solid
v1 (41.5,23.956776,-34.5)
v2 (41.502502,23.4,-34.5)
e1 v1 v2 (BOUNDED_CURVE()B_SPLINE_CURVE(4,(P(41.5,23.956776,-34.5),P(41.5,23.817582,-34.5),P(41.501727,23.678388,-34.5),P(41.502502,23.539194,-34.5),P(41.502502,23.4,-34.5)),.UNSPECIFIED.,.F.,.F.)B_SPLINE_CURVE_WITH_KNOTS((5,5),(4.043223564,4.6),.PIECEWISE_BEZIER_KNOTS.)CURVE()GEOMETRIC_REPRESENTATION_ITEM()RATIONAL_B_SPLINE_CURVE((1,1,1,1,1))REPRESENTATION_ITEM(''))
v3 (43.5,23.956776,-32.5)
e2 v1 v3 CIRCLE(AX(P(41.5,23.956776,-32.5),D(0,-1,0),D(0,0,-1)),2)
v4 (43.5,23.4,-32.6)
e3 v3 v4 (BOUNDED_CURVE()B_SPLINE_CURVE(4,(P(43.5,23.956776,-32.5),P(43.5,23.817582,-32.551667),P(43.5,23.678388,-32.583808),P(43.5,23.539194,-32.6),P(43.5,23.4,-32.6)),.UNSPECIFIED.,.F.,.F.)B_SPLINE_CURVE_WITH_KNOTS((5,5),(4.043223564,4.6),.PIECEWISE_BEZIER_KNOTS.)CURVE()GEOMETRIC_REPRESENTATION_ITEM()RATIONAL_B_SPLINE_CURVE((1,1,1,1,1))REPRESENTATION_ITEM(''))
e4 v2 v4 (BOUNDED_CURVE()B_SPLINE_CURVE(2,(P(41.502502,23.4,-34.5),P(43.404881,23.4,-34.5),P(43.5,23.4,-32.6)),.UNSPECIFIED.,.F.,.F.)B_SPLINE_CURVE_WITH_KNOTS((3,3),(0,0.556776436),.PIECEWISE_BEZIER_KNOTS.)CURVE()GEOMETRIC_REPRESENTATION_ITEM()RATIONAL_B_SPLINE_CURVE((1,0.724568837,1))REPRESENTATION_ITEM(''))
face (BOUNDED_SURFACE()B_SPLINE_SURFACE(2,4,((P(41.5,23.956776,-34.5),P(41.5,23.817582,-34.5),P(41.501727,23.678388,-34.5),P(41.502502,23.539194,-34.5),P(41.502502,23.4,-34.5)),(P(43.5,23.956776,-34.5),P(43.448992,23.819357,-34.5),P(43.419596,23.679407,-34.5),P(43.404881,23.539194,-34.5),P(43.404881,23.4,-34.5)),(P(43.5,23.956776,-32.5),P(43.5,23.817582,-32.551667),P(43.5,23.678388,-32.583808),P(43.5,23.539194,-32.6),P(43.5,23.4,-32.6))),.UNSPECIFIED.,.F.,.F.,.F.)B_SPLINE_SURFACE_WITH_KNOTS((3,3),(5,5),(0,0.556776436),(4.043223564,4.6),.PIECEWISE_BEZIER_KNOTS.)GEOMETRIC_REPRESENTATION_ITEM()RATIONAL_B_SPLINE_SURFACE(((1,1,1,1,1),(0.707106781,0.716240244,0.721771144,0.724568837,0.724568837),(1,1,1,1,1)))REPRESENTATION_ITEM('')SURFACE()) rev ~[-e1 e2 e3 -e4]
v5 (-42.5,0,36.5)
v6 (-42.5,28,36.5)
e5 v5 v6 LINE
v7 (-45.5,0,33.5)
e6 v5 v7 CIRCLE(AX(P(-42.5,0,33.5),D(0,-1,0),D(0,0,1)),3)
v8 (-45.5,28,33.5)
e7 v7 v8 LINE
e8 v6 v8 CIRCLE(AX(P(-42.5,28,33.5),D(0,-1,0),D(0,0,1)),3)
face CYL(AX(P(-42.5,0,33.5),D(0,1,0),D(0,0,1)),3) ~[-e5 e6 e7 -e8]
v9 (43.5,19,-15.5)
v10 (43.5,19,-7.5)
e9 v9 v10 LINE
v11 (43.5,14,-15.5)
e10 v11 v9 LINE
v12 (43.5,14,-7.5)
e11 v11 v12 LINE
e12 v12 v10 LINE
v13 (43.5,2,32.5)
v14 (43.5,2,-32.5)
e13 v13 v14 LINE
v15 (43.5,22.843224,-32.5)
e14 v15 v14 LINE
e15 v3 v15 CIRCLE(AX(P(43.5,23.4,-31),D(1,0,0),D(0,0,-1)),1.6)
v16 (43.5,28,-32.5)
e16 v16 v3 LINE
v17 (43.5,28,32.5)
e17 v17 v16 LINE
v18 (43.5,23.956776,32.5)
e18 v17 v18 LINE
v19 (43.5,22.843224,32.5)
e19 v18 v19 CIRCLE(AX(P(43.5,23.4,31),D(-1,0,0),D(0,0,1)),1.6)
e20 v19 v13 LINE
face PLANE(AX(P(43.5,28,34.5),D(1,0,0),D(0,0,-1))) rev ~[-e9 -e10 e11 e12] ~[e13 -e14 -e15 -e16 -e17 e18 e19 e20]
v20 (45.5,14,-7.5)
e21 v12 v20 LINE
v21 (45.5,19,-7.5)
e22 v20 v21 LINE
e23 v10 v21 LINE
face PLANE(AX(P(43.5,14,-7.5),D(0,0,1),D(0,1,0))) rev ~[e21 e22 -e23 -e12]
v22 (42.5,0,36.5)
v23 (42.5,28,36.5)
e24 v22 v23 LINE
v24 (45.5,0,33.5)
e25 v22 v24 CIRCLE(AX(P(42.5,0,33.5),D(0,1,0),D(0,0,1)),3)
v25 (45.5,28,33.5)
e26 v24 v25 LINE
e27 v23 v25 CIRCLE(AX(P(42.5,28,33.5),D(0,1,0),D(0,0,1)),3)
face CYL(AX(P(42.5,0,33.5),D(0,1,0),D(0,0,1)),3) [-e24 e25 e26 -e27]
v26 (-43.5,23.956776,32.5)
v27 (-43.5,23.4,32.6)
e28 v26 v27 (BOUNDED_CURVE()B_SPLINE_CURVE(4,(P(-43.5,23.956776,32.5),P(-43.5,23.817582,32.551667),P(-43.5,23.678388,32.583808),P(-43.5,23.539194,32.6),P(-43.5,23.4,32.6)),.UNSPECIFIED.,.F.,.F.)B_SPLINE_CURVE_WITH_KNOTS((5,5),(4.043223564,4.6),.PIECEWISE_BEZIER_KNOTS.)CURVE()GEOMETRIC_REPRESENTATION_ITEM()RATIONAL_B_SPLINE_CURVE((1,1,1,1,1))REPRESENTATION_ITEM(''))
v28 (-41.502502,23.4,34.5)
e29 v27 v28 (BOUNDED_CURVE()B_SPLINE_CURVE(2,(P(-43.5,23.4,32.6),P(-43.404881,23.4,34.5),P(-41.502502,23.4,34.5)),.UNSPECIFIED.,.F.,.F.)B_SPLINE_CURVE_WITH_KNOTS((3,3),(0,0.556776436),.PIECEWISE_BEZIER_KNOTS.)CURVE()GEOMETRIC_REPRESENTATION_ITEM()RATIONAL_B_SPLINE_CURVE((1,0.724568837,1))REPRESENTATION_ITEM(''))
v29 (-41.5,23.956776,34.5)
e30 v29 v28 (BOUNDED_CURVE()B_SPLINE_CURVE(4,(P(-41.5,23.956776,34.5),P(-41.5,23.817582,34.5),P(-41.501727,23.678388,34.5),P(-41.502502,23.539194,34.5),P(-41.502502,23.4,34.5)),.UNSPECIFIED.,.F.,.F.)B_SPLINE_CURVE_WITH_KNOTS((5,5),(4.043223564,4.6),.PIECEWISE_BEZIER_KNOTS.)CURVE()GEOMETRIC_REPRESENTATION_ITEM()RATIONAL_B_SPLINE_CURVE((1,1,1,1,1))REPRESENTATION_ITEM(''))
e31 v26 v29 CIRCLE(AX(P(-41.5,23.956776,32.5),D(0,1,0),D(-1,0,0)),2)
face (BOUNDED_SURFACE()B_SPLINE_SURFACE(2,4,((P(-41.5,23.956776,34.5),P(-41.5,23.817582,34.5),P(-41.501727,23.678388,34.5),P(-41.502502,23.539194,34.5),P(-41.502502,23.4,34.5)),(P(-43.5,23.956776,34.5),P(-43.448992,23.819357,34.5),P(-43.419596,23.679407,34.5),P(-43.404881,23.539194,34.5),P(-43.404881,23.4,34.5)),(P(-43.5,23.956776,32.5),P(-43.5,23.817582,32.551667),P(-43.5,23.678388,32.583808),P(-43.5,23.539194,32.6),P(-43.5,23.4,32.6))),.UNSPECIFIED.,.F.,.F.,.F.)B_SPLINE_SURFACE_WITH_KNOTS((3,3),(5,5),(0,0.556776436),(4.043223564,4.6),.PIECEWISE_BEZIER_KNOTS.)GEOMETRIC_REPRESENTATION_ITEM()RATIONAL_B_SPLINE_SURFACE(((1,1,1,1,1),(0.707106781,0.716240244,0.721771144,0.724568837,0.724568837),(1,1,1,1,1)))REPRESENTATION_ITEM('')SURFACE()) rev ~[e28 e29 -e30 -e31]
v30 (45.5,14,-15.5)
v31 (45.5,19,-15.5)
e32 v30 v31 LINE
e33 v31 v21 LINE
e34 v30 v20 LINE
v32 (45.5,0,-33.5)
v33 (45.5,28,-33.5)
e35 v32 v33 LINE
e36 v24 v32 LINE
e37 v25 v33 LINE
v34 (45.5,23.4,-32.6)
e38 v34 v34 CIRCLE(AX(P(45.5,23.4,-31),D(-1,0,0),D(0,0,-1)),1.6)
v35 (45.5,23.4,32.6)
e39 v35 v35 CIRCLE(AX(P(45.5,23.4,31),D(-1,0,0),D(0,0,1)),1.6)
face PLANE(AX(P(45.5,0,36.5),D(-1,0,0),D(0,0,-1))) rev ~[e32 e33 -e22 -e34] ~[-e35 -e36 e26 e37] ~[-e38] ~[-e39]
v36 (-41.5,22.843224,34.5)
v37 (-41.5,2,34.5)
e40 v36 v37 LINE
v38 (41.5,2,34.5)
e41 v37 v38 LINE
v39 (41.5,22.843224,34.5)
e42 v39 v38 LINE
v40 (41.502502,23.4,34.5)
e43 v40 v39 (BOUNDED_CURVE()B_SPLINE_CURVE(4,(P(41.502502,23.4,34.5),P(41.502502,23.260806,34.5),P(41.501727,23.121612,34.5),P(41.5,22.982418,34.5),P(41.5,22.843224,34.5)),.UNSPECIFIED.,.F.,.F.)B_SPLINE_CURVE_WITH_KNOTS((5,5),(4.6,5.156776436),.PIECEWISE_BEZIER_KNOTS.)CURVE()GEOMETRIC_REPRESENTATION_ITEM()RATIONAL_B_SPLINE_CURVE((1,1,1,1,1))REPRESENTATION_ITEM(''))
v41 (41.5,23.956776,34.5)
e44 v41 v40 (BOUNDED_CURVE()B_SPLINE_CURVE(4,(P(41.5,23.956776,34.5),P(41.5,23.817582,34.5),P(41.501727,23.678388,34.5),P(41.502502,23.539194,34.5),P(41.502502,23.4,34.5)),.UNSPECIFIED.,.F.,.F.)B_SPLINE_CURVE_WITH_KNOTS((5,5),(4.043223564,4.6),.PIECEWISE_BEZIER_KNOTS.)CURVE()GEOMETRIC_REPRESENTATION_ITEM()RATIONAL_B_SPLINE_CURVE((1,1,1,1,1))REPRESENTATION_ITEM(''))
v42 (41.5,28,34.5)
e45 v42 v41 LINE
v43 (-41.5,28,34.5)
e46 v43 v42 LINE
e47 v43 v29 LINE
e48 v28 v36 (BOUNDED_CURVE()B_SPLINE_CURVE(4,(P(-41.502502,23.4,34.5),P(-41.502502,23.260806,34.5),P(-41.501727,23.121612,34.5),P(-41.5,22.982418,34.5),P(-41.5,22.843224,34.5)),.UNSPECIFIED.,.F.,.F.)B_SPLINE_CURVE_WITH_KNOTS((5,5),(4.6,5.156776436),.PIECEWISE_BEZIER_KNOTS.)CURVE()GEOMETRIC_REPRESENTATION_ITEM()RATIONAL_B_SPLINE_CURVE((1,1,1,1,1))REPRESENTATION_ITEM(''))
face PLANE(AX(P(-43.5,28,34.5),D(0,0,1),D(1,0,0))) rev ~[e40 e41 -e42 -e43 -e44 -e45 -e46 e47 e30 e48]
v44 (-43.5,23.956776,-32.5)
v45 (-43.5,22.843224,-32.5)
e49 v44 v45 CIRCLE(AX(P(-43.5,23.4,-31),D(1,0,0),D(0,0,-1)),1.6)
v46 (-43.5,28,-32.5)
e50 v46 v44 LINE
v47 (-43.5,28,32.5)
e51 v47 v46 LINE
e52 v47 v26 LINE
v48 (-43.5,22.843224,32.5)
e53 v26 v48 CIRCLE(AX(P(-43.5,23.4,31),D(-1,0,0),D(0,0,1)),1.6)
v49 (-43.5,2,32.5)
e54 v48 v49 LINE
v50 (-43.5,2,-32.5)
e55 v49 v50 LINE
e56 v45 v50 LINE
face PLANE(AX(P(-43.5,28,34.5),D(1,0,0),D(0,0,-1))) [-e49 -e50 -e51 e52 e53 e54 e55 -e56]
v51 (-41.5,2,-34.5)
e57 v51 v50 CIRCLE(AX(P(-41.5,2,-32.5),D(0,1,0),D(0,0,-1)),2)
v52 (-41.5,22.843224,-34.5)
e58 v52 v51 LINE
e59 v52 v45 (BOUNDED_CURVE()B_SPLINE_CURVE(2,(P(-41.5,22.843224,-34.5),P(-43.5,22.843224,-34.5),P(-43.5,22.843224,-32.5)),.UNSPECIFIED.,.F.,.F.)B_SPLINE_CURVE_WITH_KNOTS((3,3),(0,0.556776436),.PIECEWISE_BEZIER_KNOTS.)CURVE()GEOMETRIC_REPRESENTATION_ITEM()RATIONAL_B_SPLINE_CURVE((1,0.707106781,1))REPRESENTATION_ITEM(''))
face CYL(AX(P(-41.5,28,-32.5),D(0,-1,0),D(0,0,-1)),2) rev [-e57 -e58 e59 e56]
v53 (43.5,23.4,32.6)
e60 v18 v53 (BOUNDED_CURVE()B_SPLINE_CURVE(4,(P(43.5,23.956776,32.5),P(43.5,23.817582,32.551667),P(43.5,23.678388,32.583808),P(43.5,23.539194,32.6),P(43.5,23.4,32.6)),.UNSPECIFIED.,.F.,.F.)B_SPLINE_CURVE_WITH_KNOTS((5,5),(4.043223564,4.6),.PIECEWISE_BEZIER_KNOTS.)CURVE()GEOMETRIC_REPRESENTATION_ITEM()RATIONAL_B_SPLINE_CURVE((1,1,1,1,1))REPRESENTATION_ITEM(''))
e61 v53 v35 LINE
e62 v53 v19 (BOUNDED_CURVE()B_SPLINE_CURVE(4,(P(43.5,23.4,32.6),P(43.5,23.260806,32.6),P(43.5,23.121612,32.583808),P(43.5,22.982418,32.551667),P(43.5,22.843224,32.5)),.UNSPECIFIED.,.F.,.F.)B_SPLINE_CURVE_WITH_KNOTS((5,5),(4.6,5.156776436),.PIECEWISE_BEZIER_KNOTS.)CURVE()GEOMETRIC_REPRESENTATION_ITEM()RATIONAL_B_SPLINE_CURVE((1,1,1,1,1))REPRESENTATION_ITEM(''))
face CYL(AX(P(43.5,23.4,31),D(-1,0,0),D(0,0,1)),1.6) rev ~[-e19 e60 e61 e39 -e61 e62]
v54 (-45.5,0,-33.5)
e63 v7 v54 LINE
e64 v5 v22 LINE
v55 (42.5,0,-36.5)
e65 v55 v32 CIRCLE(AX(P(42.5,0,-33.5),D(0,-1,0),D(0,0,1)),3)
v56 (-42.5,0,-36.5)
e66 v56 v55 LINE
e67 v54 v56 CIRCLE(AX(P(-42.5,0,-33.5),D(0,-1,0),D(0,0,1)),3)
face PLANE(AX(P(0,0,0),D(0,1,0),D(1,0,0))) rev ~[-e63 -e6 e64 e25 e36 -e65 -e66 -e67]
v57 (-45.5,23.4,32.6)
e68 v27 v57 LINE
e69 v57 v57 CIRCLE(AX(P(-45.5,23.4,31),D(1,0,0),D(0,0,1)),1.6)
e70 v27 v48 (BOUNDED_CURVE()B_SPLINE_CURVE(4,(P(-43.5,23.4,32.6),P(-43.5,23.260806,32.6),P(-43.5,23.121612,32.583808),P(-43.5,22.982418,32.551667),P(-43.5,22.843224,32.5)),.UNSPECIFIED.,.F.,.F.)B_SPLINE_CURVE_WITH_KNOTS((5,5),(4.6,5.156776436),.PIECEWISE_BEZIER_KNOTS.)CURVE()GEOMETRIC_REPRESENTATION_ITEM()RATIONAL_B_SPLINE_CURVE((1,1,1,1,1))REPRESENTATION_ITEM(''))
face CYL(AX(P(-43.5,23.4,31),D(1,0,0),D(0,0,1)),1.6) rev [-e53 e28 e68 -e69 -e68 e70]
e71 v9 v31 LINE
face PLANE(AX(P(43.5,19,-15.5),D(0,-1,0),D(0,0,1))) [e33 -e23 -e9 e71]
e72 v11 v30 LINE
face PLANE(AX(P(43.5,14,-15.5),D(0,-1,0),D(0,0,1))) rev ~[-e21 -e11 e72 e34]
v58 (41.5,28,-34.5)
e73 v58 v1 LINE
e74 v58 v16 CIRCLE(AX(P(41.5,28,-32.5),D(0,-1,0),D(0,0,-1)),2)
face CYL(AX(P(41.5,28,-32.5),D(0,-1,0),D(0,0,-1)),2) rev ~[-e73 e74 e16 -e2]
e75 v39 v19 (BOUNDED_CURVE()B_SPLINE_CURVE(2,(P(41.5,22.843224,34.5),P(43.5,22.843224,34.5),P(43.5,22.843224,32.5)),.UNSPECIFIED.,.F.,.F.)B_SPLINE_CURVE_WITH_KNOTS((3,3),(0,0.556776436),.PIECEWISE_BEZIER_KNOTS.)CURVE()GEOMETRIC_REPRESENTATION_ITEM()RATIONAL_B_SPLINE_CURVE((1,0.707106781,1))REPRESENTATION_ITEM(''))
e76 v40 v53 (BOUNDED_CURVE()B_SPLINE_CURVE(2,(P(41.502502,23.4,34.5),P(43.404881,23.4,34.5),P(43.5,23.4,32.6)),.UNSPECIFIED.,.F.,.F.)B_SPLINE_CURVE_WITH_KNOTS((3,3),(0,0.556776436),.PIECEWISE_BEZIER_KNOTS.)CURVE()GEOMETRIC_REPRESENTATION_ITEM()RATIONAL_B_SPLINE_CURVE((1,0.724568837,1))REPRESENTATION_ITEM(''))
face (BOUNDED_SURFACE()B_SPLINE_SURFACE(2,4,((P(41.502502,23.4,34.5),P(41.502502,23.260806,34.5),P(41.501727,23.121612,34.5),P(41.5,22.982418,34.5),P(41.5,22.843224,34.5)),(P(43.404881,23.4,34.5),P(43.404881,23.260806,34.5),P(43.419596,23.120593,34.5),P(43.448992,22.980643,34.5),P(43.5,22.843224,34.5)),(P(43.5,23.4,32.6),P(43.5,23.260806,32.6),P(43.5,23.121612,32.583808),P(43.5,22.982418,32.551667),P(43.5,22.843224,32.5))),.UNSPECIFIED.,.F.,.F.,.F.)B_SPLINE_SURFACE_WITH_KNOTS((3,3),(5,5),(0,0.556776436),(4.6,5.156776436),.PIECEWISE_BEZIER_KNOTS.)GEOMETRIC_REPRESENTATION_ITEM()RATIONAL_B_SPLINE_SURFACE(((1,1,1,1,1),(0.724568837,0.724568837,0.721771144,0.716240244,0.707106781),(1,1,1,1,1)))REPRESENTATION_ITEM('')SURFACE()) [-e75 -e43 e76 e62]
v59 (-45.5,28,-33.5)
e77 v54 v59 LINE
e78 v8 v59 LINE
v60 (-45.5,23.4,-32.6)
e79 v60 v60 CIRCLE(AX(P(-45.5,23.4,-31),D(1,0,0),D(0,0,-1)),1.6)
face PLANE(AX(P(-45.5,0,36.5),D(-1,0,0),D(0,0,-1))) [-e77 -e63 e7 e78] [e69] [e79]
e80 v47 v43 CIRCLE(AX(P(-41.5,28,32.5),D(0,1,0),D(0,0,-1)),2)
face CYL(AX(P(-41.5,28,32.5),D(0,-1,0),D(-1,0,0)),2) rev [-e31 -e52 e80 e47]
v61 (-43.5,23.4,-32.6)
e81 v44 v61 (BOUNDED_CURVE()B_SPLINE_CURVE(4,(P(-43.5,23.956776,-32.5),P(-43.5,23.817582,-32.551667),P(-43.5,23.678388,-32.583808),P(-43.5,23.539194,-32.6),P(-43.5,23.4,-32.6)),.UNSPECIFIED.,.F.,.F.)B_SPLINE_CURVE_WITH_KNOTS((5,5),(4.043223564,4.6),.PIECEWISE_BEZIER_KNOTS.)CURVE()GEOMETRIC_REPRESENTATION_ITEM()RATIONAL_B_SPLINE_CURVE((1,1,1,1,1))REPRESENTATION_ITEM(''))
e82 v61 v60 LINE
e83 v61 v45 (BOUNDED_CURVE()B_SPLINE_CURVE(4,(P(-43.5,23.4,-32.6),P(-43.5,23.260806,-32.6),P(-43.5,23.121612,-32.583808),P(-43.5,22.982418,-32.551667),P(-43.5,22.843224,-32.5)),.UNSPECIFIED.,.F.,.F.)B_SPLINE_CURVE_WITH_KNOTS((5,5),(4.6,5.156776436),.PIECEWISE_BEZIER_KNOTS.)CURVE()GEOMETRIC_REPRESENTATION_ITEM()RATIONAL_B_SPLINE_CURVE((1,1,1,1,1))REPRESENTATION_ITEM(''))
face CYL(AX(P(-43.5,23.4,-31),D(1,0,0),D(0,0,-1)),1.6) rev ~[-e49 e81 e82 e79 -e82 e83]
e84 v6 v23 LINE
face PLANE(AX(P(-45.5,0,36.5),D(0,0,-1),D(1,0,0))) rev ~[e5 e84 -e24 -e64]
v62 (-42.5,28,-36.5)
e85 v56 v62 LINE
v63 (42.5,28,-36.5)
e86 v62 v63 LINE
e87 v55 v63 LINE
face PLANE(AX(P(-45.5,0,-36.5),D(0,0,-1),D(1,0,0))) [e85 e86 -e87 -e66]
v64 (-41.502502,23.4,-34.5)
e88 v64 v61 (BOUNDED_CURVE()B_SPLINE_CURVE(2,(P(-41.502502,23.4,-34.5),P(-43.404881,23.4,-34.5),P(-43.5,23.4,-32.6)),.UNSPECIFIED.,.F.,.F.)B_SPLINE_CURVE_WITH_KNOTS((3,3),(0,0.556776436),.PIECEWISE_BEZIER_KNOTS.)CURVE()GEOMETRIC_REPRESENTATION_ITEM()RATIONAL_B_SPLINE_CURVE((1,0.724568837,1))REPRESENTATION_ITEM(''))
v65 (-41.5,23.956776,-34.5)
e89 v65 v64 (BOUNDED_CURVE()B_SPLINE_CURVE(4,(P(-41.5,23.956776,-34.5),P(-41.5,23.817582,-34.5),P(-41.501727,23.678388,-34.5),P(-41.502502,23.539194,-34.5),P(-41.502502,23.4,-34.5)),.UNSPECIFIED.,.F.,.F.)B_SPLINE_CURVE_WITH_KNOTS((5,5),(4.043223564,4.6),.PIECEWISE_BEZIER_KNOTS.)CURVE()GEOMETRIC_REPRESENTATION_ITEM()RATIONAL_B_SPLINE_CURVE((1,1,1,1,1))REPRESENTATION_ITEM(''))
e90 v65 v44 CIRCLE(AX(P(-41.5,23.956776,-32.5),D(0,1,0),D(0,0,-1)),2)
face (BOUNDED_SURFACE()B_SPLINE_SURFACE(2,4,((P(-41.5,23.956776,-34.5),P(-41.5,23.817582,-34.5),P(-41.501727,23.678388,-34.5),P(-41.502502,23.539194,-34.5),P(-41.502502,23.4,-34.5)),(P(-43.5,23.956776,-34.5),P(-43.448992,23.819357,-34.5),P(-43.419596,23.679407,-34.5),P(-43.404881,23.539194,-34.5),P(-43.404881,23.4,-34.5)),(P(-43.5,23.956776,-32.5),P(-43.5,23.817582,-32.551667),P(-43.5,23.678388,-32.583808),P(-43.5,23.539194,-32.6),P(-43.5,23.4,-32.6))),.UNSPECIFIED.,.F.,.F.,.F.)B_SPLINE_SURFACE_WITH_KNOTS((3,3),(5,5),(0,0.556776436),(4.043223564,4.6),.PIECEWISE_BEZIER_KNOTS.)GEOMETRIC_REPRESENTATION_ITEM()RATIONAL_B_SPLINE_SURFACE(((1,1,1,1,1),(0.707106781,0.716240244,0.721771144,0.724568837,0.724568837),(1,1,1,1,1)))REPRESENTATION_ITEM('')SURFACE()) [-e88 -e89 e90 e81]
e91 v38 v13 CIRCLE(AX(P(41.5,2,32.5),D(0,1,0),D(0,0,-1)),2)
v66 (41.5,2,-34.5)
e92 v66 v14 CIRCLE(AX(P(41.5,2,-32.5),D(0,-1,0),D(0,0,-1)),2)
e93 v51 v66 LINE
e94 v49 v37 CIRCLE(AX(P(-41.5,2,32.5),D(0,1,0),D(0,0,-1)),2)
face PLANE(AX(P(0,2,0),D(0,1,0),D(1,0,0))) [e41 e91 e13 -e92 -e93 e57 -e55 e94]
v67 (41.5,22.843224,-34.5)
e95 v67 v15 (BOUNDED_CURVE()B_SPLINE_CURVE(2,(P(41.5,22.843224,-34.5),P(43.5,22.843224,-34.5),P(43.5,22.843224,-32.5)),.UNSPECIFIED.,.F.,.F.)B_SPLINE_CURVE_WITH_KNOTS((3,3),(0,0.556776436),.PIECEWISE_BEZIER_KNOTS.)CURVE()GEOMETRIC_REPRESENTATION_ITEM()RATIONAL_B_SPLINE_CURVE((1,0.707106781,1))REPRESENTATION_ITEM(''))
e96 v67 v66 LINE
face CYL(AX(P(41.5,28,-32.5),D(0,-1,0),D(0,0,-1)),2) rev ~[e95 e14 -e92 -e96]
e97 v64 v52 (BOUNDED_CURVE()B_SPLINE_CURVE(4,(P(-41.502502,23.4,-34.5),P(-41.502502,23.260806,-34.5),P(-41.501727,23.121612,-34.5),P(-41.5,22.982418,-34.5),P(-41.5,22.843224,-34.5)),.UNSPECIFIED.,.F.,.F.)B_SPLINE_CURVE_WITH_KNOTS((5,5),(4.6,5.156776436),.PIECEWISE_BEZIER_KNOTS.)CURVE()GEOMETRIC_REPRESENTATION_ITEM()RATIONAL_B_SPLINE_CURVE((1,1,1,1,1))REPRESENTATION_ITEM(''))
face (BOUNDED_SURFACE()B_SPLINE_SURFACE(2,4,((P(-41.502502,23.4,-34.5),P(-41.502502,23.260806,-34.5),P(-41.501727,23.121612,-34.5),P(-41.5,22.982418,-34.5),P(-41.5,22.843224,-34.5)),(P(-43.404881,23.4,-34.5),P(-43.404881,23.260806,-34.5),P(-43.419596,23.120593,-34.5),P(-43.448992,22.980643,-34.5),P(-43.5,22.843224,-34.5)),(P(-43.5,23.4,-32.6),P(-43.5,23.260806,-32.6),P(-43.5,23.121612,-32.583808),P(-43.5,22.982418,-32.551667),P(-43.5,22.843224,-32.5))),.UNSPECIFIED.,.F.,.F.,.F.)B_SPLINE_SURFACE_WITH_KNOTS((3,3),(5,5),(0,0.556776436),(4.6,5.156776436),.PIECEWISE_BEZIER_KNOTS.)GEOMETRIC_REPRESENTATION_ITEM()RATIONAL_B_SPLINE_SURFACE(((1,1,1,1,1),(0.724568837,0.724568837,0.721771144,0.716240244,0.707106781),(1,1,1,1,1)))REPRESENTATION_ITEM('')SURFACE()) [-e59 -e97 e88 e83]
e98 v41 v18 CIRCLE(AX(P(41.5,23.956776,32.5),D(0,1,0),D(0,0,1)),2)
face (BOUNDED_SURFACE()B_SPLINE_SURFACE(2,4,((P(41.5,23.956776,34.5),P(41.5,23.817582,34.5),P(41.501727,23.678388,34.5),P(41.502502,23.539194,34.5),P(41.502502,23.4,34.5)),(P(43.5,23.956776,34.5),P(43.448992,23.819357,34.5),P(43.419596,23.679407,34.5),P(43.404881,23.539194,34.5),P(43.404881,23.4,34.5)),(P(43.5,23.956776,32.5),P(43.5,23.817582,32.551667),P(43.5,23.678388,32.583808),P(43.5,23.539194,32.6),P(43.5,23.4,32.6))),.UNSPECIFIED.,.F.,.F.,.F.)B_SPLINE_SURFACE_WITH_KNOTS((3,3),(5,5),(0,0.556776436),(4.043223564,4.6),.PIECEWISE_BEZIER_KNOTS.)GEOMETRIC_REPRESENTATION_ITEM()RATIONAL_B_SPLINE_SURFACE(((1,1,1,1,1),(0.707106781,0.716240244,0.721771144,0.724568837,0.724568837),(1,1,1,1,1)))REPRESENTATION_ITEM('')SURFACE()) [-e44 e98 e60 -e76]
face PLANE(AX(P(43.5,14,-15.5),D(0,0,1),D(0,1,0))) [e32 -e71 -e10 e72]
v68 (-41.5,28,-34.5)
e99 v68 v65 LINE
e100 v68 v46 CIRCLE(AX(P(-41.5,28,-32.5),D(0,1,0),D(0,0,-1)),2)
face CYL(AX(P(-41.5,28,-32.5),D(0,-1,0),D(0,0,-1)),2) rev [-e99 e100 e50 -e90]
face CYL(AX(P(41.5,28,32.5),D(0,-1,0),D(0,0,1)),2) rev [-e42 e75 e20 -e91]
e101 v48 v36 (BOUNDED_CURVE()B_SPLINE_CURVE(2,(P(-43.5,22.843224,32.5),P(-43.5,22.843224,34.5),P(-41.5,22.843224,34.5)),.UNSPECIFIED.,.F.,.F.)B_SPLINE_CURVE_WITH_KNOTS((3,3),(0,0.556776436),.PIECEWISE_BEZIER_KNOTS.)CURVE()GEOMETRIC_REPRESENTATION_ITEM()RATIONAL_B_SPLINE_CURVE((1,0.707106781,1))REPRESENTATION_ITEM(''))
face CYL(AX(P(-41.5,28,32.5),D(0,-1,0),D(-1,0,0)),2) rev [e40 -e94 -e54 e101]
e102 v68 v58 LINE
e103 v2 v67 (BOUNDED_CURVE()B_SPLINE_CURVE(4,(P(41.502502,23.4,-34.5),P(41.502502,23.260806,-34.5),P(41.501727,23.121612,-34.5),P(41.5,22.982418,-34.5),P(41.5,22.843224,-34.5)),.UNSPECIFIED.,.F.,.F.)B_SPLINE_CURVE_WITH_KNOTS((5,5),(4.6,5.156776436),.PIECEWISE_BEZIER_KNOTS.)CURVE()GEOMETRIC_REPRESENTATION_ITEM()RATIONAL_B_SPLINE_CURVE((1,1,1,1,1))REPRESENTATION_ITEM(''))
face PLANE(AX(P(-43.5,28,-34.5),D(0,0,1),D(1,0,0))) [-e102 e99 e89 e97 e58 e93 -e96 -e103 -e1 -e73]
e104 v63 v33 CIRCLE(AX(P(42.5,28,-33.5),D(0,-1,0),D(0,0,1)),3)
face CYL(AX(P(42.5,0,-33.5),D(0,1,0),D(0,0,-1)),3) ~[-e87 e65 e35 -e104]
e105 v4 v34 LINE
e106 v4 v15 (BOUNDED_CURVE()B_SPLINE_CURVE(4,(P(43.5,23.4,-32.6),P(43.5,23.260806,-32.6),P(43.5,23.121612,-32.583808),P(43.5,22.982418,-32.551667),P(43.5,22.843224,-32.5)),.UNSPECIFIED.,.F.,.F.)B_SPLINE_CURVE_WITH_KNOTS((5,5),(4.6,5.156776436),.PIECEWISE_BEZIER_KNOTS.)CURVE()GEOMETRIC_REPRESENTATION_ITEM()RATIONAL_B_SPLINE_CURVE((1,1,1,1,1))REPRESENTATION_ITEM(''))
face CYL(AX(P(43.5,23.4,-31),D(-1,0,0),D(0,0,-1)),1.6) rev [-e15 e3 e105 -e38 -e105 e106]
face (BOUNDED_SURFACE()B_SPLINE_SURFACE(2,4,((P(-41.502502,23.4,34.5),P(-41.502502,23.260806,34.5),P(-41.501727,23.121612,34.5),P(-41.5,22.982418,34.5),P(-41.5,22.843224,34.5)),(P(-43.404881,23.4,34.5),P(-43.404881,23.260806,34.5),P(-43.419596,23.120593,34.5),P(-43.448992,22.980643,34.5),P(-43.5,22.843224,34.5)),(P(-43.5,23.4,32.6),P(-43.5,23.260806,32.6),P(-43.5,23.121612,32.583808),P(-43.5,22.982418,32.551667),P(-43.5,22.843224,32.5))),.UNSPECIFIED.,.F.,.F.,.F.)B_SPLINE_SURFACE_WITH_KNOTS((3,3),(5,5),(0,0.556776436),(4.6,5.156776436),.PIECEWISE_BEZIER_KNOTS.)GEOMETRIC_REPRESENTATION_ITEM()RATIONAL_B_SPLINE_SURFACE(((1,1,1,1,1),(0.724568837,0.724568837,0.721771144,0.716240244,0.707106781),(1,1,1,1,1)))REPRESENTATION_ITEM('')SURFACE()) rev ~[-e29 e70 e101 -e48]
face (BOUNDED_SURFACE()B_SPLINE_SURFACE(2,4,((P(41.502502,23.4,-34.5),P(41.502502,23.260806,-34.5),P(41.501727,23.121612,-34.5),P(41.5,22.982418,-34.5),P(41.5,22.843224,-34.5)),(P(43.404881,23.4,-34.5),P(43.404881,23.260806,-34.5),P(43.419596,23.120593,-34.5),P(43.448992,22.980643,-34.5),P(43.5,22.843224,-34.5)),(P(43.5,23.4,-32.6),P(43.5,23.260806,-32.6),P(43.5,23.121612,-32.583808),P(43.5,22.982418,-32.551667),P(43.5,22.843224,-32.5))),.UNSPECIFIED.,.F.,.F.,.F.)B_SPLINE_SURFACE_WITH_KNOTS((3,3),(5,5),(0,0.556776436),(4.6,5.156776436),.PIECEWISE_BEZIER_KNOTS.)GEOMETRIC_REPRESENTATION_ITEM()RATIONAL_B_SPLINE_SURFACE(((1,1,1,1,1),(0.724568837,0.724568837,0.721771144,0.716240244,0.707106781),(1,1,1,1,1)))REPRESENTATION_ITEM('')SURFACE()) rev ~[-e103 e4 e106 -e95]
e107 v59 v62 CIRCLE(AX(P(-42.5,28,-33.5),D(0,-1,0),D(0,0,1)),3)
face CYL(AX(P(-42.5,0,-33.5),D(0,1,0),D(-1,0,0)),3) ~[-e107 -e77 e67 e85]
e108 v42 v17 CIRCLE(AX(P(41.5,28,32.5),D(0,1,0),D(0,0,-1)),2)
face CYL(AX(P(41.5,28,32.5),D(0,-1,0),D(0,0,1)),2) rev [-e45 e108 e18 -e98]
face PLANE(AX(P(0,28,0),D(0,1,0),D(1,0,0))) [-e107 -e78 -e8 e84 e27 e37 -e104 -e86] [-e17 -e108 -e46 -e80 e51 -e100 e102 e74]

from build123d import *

# Parameters (mm, degrees)
SKETCH_1_W               = 91
SKETCH_1_H               = 73
EXTRUDE_1_DEPTH          = 28
SKETCH_2_W               = 87
SKETCH_2_H               = 69
CUT_EXTRUDE_1_DEPTH      = 26
SKETCH_3_W               = 8
SKETCH_3_H               = 5
CUT_EXTRUDE_2_DEPTH      = 26
SKETCH_4_R               = 1.6
CUT_EXTRUDE_5_DEPTH      = 4
MIRROR_2_COPY_1_SKETCH_R = 1.6
MIRROR_2_COPY_1_DEPTH    = 4
FILLET_2_R               = 3
FILLET_3_R               = 3
FILLET_4_R               = 3
FILLET_5_R               = 3
FILLET_6_R               = 2
FILLET_7_R               = 2
FILLET_8_R               = 2
FILLET_9_R               = 2


with BuildPart() as part:
    # 草图1 → 凸台-拉伸1 (new body)
    with BuildSketch(Plane(origin=(0, 0, 0), x_dir=(1, 0, 0), z_dir=(0, 1, 0))):
        Rectangle(SKETCH_1_W, SKETCH_1_H)
    extrude(amount=EXTRUDE_1_DEPTH)

    # 草图2 → 切除-拉伸1 (cut)
    with BuildSketch(Plane(origin=(0, 28, 0), x_dir=(1, 0, 0), z_dir=(0, 1, 0))):
        Rectangle(SKETCH_2_W, SKETCH_2_H)
    extrude(amount=-CUT_EXTRUDE_1_DEPTH, mode=Mode.SUBTRACT)

    # 草图3 → 切除-拉伸2 (cut)
    with BuildSketch(Plane.ZY.offset(-43.5)):
        with Locations((-11.5, 16.5)):
            Rectangle(SKETCH_3_W, SKETCH_3_H)
    extrude(amount=-CUT_EXTRUDE_2_DEPTH, mode=Mode.SUBTRACT)

    # 草图4 → 切除-拉伸5 (cut)
    with BuildSketch(Plane.ZY.offset(-43.5)):
        with Locations((31, 23.4)):
            Circle(SKETCH_4_R)
    cut_extrude_5 = extrude(amount=-CUT_EXTRUDE_5_DEPTH, mode=Mode.SUBTRACT)

    # 镜向1: 切除-拉伸5 across plane
    add(cut_extrude_5.mirror(Plane.XY), mode=Mode.SUBTRACT)

    # 镜向2: 切除-拉伸5 across plane
    add(cut_extrude_5.mirror(Plane(origin=(0, 0, 0), x_dir=(0, 0, 1), z_dir=(1, 0, 0))), mode=Mode.SUBTRACT)

    # 镜向2 copy 1 sketch → 镜向2 copy 1 (cut)
    with BuildSketch(Plane(origin=(-43.5, 0, 0), x_dir=(0, 0, -1), z_dir=(1, 0, 0))):
        with Locations((31, 23.4)):
            Circle(MIRROR_2_COPY_1_SKETCH_R)
    extrude(amount=-MIRROR_2_COPY_1_DEPTH, mode=Mode.SUBTRACT)

    # 圆角2
    fillet_2_edges = [part.edges().sort_by_distance(p)[0] for p in [
        (45.5, 14, 36.5),
    ]]
    fillet(fillet_2_edges, radius=FILLET_2_R)

    # 圆角3
    fillet_3_edges = [part.edges().sort_by_distance(p)[0] for p in [
        (-45.5, 14, 36.5),
    ]]
    fillet(fillet_3_edges, radius=FILLET_3_R)

    # 圆角4
    fillet_4_edges = [part.edges().sort_by_distance(p)[0] for p in [
        (-45.5, 14, -36.5),
    ]]
    fillet(fillet_4_edges, radius=FILLET_4_R)

    # 圆角5
    fillet_5_edges = [part.edges().sort_by_distance(p)[0] for p in [
        (45.5, 14, -36.5),
    ]]
    fillet(fillet_5_edges, radius=FILLET_5_R)

    # 圆角6
    fillet_6_edges = [part.edges().sort_by_distance(p)[0] for p in [
        (-43.5, 15, -34.5),
    ]]
    fillet(fillet_6_edges, radius=FILLET_6_R)

    # 圆角7
    fillet_7_edges = [part.edges().sort_by_distance(p)[0] for p in [
        (43.5, 15, -34.5),
    ]]
    fillet(fillet_7_edges, radius=FILLET_7_R)

    # 圆角8
    fillet_8_edges = [part.edges().sort_by_distance(p)[0] for p in [
        (-43.5, 15, 34.5),
    ]]
    fillet(fillet_8_edges, radius=FILLET_8_R)

    # 圆角9
    fillet_9_edges = [part.edges().sort_by_distance(p)[0] for p in [
        (43.5, 15, 34.5),
    ]]
    fillet(fillet_9_edges, radius=FILLET_9_R)


solid = part.part
